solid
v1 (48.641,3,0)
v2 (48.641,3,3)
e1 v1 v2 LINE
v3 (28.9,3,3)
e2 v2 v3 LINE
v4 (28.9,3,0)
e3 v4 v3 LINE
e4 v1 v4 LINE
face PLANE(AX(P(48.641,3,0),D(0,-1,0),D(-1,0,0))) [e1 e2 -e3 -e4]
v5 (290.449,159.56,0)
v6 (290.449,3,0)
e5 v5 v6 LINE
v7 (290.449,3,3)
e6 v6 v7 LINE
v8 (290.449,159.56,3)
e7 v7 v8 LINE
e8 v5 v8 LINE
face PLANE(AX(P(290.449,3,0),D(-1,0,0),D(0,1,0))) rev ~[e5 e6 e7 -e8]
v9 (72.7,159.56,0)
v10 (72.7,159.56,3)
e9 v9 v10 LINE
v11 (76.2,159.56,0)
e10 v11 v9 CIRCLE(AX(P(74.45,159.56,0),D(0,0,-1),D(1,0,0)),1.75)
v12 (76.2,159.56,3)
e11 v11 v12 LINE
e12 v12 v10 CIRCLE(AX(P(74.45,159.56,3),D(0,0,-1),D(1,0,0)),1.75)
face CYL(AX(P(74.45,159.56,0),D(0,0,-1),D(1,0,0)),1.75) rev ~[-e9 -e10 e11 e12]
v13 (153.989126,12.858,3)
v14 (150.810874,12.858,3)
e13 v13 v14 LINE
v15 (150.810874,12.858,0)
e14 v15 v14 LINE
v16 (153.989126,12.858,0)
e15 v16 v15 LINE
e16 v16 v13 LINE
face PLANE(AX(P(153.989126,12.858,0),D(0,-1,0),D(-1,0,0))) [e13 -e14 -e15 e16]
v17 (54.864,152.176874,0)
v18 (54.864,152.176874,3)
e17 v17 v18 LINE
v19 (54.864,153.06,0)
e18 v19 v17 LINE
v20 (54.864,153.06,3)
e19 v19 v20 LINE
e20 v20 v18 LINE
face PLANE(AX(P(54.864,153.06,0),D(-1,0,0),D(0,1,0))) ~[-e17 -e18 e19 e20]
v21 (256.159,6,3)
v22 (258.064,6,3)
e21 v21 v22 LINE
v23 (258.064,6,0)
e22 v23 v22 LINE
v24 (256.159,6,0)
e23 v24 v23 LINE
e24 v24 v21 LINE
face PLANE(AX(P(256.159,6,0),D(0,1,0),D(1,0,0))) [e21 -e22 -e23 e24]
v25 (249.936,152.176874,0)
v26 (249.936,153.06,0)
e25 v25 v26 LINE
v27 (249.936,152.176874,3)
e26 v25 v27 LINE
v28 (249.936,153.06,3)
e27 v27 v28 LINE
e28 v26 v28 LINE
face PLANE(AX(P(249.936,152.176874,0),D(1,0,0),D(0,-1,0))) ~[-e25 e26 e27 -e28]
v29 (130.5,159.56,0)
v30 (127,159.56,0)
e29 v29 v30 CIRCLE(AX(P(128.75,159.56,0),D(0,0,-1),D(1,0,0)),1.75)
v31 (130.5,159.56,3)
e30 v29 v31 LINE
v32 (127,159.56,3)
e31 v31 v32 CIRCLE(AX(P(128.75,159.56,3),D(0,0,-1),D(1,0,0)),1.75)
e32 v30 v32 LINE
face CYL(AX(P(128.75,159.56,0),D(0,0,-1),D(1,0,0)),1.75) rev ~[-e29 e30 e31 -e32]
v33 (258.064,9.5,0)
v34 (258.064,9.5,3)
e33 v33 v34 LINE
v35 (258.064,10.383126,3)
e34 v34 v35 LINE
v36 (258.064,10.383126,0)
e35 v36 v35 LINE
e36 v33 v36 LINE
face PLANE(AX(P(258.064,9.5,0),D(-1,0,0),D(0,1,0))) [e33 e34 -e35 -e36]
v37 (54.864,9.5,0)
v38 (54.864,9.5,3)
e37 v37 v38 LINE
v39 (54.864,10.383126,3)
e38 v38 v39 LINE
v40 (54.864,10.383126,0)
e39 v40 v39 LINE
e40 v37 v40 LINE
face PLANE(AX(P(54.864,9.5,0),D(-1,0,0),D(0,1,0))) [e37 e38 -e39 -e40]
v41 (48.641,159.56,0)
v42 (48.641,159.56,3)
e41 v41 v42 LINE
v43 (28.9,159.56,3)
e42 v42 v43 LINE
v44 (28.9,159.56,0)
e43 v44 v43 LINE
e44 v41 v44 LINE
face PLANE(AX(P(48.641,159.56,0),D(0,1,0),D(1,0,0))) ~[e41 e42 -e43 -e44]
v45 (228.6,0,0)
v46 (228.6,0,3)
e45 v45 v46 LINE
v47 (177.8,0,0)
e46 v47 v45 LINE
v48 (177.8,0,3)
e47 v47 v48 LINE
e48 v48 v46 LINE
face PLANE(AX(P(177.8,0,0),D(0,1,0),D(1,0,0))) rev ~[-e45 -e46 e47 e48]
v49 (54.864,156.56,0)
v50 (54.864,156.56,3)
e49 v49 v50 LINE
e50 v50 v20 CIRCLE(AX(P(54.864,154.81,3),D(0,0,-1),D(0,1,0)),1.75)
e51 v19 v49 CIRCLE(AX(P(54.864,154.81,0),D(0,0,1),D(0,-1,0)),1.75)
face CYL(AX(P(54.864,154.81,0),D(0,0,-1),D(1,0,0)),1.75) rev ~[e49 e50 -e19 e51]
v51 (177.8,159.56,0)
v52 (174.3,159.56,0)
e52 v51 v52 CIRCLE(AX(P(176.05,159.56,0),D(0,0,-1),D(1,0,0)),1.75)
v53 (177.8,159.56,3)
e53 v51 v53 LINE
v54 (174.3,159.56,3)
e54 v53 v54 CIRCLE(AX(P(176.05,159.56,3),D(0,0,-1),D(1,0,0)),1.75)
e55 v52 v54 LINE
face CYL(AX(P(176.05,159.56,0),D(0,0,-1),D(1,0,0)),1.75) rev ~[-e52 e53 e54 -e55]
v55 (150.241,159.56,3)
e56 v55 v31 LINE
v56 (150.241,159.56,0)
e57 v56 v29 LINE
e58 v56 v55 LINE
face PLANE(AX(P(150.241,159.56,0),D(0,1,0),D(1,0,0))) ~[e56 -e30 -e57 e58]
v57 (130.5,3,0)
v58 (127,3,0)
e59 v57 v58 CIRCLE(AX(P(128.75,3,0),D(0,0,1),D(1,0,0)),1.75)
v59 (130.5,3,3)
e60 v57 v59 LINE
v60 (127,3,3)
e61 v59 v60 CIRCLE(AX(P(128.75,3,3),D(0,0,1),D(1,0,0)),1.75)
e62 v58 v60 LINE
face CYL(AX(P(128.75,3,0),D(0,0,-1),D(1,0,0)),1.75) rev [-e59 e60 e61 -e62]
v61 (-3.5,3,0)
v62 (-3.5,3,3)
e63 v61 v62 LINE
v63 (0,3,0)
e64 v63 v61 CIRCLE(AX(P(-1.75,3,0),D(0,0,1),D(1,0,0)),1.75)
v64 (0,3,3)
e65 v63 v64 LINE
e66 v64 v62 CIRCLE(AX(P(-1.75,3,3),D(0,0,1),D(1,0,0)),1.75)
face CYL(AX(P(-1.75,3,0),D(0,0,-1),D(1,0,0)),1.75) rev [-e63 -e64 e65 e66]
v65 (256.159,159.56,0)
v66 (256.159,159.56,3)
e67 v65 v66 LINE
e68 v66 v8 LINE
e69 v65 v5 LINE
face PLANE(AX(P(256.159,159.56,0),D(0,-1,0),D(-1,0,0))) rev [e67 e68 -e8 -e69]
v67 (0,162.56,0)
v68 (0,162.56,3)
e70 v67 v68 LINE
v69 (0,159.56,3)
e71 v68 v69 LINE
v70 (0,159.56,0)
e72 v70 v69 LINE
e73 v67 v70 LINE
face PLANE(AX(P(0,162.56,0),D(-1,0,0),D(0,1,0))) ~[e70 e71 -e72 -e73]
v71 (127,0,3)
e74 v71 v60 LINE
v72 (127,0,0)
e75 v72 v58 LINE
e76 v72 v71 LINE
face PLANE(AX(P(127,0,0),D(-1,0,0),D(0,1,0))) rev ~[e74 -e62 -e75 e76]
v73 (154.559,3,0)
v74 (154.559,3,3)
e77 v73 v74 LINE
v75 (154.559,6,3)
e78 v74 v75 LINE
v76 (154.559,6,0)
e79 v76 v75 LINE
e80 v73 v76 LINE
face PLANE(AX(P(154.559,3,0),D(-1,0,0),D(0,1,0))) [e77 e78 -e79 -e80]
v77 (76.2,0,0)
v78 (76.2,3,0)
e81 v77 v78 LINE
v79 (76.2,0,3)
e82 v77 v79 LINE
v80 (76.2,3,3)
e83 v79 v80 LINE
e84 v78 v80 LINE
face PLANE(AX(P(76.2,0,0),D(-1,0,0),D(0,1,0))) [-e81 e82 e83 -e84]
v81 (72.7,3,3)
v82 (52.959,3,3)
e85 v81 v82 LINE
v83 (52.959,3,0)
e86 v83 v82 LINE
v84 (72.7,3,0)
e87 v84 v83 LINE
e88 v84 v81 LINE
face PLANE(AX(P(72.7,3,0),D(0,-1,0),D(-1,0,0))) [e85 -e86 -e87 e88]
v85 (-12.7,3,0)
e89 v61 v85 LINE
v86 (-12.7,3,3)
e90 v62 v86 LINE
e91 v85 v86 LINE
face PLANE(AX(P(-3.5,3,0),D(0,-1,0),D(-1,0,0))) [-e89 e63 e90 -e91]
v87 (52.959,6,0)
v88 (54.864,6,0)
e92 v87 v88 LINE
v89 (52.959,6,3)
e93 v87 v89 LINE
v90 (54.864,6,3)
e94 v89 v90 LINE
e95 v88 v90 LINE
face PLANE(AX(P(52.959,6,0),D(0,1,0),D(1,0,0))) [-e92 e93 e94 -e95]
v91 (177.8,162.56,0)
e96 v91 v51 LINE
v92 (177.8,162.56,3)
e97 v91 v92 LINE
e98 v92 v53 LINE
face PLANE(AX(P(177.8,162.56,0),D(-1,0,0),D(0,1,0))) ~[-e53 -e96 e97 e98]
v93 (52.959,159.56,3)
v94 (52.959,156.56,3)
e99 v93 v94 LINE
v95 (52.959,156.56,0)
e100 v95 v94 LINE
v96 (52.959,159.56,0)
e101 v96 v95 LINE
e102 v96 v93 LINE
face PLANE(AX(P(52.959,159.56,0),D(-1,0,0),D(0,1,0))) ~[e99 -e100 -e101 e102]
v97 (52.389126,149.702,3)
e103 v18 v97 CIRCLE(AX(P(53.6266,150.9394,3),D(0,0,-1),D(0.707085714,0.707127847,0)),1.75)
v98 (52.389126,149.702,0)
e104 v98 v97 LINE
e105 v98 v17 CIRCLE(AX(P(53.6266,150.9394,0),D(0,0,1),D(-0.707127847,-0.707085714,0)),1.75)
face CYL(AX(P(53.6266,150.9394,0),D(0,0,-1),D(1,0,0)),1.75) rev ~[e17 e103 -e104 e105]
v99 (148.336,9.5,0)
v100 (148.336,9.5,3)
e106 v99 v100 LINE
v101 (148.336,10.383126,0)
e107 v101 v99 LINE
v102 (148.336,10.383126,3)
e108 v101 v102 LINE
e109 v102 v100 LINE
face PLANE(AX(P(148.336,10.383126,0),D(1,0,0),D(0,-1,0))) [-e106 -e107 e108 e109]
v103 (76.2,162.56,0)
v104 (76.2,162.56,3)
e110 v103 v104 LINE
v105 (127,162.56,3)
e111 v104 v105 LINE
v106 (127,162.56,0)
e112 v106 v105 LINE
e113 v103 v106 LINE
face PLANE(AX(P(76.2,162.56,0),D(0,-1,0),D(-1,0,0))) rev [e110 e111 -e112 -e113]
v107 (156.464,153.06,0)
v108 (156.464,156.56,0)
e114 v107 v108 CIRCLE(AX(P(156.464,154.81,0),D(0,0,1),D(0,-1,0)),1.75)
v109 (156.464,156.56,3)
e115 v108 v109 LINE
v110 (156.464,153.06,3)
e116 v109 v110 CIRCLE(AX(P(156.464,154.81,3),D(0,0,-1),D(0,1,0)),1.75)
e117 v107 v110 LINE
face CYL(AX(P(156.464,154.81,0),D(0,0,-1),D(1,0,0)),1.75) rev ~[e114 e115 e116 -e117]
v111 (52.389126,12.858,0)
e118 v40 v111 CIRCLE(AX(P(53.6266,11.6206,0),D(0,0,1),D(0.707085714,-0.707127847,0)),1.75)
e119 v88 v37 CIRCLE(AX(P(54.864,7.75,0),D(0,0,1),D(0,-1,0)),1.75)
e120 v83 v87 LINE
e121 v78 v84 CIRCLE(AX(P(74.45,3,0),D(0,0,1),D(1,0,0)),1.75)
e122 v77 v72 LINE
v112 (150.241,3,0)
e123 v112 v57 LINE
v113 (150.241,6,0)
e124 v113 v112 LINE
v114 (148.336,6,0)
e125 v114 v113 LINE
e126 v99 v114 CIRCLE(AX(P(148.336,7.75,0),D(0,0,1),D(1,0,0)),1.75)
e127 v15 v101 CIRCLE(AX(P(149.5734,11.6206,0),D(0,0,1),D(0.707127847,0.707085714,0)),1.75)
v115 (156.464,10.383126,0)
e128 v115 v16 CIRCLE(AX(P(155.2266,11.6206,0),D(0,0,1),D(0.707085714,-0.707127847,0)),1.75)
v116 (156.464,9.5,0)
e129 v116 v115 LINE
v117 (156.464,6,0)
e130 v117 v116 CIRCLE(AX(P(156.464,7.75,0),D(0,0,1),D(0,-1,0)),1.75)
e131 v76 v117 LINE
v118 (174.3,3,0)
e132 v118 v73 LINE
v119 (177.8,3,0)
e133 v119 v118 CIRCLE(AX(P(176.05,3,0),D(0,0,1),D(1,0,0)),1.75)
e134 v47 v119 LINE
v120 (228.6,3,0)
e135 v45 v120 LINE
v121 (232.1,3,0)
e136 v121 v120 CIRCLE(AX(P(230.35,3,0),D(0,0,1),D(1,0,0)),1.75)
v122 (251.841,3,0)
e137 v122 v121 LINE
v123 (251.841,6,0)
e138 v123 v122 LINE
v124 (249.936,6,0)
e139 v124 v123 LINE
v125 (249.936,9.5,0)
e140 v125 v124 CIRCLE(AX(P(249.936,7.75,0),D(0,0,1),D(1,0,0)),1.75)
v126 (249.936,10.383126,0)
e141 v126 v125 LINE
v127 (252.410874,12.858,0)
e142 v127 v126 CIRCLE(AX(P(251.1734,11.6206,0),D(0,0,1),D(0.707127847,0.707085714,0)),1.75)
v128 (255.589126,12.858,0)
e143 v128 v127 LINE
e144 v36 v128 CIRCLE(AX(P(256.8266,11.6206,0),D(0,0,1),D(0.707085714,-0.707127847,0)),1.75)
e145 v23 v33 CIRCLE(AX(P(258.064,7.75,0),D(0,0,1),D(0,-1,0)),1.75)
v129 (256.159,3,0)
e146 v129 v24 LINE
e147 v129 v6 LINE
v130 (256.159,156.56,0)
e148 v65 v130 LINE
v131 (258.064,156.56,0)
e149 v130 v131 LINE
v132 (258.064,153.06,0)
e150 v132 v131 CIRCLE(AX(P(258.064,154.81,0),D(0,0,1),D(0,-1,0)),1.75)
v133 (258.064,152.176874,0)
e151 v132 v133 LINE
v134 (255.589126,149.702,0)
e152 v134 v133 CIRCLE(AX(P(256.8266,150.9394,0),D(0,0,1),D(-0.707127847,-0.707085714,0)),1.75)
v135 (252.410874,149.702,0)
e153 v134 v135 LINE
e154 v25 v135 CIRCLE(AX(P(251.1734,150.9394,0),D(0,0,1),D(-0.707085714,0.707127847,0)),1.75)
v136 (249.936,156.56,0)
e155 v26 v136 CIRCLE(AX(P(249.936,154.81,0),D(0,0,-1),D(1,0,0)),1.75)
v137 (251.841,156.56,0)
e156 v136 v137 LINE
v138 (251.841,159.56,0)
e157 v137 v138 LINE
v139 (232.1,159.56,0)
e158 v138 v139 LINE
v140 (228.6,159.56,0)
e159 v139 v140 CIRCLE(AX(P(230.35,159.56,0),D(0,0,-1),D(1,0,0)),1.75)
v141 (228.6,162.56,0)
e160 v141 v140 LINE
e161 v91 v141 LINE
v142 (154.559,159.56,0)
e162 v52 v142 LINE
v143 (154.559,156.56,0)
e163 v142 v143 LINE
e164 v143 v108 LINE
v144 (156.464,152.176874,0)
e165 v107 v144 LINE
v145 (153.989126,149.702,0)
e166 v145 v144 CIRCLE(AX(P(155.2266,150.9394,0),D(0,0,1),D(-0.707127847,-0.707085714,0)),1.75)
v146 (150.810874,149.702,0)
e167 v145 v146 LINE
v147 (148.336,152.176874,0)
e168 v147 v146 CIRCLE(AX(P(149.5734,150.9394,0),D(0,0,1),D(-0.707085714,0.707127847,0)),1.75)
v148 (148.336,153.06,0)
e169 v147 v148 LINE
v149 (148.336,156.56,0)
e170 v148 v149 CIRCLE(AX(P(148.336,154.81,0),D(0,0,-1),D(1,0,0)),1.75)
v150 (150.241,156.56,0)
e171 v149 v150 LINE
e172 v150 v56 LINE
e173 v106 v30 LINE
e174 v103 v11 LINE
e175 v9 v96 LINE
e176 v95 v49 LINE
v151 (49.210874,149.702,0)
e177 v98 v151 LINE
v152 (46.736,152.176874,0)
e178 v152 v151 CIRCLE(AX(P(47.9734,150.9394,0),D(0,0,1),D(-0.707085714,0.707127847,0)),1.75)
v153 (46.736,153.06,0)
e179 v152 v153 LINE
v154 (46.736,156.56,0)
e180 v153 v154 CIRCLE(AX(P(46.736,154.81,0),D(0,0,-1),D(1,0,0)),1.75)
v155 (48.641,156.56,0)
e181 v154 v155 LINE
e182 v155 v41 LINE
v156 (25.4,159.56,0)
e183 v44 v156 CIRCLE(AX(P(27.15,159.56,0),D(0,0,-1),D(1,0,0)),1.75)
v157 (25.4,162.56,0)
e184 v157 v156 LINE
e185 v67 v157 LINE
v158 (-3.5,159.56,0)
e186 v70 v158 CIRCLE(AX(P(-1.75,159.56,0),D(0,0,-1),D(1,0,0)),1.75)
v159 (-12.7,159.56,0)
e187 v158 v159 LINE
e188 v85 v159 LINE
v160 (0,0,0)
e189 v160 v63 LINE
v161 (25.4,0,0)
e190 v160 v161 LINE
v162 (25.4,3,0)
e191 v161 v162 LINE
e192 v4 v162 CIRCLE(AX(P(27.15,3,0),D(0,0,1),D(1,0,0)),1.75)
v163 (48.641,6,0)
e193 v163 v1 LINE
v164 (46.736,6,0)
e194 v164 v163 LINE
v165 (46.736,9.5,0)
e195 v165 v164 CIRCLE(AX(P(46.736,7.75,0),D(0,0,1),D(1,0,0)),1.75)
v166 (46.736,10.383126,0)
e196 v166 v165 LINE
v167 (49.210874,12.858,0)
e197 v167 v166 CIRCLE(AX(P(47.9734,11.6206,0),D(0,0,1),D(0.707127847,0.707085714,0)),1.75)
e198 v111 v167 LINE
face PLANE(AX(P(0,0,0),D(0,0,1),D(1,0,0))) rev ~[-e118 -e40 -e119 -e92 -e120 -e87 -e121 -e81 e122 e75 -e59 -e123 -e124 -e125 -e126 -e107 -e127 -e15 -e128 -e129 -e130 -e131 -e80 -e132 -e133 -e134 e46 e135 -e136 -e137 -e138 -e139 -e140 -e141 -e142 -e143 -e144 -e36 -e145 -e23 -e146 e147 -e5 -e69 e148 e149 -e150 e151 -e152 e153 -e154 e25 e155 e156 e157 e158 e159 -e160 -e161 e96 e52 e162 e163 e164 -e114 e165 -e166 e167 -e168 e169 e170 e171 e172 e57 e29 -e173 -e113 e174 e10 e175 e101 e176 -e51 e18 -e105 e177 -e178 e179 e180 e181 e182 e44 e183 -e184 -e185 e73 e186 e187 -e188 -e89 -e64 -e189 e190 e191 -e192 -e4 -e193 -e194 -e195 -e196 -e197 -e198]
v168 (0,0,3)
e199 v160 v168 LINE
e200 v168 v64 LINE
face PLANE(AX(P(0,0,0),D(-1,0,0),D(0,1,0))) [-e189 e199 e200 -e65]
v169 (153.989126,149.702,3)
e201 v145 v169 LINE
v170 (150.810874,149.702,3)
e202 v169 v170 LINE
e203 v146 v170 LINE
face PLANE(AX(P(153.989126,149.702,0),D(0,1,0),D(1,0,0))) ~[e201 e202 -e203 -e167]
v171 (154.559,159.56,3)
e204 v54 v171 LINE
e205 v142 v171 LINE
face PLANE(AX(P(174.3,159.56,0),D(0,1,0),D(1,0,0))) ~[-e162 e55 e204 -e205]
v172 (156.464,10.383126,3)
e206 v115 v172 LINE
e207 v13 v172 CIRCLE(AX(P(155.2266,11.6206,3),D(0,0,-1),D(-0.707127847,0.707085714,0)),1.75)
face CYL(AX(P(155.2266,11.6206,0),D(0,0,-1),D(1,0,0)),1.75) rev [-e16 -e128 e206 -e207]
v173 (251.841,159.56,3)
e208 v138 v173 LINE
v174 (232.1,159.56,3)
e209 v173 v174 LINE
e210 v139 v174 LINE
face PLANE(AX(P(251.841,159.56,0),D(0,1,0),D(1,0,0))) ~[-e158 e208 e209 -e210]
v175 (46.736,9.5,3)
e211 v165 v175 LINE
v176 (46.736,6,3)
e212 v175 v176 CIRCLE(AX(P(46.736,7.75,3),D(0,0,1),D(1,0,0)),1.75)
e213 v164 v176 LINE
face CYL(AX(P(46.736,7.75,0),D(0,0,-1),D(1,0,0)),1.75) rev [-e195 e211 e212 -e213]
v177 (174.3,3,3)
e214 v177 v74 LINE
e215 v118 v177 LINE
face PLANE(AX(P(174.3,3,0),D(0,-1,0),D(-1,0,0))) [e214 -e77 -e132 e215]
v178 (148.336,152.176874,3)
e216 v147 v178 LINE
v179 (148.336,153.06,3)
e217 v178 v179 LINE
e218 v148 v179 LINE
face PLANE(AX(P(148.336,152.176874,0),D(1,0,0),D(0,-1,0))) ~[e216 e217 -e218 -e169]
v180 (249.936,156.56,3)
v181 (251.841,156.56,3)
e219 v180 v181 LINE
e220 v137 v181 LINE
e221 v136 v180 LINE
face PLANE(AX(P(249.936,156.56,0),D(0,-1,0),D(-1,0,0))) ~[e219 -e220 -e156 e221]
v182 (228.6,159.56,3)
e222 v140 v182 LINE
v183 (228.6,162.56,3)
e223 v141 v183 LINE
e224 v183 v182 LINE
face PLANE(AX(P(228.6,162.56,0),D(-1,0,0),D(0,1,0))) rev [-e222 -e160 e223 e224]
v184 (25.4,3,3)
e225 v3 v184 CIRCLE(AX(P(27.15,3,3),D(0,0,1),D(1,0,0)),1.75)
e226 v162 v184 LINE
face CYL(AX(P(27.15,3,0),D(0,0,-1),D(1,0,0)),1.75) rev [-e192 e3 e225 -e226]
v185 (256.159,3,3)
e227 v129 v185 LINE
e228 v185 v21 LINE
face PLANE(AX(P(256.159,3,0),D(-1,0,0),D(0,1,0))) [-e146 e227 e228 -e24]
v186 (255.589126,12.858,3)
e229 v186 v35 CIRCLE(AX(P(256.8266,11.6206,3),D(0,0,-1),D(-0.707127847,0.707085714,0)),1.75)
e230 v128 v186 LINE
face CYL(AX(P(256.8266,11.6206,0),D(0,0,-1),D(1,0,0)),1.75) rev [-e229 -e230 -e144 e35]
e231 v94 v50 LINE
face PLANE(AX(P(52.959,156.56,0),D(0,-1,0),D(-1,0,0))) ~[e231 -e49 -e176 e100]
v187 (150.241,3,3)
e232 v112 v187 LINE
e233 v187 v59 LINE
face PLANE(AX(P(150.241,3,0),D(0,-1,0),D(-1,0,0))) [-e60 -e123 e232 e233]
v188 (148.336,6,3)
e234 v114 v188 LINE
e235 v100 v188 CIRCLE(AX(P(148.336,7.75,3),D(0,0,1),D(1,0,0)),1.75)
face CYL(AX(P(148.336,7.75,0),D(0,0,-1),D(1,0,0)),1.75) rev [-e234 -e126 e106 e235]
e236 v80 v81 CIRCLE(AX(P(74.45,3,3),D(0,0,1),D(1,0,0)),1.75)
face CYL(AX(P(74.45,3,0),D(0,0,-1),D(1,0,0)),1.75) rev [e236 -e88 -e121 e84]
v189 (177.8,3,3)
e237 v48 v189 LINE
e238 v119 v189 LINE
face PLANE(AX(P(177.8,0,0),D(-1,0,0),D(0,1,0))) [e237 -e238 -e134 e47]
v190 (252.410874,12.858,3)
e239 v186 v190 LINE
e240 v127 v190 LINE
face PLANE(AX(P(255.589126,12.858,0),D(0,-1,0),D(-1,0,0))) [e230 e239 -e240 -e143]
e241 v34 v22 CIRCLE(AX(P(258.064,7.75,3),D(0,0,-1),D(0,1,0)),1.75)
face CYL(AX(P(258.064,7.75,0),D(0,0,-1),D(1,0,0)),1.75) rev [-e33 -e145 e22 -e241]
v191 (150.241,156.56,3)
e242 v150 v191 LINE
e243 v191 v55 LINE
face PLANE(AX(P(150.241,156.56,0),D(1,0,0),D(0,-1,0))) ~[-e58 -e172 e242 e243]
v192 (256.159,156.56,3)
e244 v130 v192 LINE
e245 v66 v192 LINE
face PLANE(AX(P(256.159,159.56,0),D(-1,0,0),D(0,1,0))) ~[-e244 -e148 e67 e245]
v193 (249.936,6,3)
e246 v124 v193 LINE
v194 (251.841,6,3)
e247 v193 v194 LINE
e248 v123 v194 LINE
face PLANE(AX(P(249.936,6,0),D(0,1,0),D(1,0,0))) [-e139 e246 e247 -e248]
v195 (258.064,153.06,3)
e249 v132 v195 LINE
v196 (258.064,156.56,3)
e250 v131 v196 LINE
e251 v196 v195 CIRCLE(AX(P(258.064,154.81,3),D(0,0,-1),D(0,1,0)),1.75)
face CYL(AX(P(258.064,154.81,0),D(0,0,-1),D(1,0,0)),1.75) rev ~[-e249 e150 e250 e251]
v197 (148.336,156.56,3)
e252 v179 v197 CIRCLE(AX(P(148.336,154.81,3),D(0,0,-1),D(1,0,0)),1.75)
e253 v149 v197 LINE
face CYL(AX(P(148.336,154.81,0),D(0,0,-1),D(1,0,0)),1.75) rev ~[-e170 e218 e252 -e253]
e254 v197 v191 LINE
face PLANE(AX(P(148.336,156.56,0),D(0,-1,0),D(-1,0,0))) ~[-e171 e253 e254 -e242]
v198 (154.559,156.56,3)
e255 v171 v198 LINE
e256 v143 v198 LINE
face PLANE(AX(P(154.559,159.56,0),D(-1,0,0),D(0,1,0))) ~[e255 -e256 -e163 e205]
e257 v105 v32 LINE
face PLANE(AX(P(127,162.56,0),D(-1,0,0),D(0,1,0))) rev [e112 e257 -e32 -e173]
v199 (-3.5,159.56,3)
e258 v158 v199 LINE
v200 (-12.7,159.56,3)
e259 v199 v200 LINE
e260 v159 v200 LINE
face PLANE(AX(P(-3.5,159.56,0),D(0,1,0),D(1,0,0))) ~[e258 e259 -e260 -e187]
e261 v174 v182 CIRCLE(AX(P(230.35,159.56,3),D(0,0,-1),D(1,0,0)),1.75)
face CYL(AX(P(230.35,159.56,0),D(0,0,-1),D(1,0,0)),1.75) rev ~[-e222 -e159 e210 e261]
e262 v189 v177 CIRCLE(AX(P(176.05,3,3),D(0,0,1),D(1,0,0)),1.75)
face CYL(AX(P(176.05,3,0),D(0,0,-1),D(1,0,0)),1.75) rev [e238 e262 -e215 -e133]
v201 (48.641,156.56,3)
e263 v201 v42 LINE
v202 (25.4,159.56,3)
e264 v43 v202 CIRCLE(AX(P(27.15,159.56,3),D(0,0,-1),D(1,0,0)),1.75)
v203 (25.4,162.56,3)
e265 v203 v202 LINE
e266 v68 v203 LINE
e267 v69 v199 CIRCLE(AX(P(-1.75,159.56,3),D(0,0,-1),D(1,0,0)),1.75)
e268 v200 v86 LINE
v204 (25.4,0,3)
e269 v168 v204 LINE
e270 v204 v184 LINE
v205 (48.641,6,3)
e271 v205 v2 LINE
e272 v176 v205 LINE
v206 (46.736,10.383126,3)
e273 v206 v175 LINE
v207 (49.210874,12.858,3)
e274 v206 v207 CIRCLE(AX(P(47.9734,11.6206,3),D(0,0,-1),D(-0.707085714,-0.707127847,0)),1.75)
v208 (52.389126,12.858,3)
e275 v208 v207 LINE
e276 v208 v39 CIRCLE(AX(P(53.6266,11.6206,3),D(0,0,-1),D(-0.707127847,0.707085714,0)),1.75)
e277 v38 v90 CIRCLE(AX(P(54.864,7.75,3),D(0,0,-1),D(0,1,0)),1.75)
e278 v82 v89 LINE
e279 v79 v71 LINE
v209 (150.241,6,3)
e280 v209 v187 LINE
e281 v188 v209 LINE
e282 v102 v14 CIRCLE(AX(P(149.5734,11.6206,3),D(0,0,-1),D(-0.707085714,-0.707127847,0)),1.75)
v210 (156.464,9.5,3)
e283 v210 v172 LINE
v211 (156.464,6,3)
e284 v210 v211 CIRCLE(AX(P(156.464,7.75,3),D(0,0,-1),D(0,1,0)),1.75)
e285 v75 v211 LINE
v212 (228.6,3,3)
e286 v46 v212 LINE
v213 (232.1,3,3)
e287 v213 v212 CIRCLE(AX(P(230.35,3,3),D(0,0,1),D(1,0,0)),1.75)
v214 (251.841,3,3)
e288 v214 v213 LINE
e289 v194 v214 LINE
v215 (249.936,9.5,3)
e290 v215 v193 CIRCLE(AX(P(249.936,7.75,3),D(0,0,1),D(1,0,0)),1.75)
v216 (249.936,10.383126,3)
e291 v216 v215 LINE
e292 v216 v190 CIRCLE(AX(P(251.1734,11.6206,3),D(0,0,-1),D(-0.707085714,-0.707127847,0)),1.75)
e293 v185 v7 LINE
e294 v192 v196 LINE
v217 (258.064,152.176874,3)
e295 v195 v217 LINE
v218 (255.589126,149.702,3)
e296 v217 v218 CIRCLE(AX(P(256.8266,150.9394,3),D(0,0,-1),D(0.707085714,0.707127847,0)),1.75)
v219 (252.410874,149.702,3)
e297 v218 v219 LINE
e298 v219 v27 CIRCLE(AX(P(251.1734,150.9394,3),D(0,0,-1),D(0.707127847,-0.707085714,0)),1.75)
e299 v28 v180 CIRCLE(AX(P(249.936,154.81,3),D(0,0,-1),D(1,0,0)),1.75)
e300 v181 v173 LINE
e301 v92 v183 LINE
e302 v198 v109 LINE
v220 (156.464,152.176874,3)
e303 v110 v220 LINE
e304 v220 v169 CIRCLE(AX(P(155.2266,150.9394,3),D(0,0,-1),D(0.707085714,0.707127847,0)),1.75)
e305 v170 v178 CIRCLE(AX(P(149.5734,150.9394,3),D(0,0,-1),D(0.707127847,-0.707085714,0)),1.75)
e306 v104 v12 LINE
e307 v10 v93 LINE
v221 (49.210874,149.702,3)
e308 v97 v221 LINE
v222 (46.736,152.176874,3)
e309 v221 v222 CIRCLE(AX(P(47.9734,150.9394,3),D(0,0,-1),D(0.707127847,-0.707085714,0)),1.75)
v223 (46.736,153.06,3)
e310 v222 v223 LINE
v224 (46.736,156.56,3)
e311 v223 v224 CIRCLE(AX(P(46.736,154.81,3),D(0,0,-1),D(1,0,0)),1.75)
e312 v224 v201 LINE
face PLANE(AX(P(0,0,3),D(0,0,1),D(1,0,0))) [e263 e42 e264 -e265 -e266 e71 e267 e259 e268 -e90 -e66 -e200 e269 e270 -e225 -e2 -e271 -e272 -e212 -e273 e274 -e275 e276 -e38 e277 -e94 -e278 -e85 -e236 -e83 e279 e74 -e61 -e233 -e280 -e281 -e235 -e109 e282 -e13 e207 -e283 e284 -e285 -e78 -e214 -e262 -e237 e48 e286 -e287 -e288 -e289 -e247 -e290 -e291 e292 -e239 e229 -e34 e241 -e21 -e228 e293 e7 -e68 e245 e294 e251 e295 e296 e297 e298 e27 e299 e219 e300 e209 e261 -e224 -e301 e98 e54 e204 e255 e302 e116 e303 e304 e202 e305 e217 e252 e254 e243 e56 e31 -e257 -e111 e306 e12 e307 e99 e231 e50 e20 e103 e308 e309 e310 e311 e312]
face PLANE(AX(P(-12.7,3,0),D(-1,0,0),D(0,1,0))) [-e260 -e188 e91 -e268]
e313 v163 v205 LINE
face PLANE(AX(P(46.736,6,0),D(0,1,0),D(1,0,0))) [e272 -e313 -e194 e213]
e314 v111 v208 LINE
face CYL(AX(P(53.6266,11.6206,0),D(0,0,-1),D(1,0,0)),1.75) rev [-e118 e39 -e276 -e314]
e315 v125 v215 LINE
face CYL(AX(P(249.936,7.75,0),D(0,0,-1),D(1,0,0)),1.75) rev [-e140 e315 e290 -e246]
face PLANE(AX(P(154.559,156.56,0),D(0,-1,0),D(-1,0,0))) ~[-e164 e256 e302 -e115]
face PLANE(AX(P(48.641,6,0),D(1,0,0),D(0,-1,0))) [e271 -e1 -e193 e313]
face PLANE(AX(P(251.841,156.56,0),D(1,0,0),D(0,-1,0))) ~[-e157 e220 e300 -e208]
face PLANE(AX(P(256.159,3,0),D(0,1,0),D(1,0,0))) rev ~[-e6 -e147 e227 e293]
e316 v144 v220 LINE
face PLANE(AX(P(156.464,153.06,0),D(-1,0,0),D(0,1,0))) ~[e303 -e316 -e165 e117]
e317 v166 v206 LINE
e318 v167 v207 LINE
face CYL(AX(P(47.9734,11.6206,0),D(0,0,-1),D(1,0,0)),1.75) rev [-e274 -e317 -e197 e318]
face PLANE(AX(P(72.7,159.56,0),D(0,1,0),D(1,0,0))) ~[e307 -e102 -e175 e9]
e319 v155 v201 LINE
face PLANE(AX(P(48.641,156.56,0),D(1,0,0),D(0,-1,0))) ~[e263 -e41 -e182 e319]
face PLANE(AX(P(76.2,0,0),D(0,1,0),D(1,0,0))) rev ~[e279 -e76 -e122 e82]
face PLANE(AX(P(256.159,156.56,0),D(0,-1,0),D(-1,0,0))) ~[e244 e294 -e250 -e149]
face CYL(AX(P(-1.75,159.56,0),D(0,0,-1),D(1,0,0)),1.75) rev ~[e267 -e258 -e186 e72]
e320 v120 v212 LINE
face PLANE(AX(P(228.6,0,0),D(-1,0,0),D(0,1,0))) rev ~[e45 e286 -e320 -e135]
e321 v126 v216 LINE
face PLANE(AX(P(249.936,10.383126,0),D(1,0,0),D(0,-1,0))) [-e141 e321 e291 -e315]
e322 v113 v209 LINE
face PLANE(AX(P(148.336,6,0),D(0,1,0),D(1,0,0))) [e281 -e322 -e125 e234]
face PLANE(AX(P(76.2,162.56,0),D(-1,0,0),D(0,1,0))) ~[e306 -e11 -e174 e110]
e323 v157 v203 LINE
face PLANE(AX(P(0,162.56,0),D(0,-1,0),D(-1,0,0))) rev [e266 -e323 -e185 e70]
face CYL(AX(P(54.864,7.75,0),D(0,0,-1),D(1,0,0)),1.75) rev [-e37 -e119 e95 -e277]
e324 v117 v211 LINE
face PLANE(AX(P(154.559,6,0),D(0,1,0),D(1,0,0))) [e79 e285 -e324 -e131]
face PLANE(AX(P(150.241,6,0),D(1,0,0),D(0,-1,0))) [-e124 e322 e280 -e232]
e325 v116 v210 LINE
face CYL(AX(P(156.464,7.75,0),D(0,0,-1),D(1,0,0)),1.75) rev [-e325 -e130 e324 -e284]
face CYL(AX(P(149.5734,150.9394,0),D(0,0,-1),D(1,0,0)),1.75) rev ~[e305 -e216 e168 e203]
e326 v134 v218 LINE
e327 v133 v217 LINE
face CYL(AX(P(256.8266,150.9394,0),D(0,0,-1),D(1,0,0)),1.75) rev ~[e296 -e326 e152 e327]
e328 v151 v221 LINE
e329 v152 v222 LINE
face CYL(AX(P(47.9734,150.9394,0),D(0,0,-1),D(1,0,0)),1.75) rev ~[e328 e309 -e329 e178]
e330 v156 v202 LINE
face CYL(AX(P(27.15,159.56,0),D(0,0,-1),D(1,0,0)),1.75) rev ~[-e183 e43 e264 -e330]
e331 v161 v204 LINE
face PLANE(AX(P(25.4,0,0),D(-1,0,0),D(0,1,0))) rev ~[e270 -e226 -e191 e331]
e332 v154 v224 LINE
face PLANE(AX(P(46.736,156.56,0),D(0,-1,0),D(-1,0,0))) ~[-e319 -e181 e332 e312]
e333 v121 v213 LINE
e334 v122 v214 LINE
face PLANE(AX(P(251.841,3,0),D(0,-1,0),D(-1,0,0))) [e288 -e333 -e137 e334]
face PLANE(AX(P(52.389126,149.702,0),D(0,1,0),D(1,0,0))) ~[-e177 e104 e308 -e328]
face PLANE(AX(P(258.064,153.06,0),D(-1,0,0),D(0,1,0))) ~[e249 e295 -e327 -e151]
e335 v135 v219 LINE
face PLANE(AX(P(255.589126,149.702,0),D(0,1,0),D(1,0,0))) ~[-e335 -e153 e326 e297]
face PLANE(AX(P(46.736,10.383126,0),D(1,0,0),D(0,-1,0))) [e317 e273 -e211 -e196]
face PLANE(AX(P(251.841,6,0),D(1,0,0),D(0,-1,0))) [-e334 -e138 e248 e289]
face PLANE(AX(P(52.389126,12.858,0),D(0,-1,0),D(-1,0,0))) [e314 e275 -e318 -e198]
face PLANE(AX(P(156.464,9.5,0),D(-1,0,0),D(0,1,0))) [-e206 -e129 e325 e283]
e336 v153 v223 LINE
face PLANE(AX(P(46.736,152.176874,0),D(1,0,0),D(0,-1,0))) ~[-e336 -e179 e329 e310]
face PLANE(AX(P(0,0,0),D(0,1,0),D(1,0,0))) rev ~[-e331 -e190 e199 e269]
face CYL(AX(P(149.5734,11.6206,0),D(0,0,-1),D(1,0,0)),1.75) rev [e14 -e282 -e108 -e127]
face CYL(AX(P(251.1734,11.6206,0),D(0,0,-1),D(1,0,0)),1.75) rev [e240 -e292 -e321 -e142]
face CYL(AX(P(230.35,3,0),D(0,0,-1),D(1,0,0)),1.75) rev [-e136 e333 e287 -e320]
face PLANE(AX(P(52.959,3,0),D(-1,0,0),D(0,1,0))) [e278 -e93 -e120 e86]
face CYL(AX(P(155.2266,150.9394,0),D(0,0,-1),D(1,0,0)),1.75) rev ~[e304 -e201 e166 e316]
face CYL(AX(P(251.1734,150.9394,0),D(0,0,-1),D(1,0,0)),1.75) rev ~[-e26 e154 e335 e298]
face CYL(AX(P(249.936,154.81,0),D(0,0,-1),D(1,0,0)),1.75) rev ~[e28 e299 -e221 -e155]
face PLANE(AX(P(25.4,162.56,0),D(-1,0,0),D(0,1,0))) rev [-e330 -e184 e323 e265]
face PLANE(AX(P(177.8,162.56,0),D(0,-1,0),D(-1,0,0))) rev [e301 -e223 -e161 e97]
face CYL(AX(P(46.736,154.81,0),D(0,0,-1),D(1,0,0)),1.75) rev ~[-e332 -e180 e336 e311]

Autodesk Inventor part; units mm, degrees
ref_plane "YZ Plane" through (0, 0, 0) normal (1, 0, 0) x (0, 1, 0)
ref_plane "XZ Plane" through (0, 0, 0) normal (0, 1, 0) x (-1, 0, 0)
ref_plane "XY Plane" through (0, 0, 0) normal (0, 0, 1) x (1, 0, 0)
ref_plane "Work Plane1" through (0, 0, 0) normal (0, 0, 1) x (1, 0, 0)
sketch "Sketch1" plane through (0, 0, 0) normal (0, 0, 1) x (1, 0, 0)
  line L0 (0, 0) -> (25.4, 0) projected
  line L1 (25.4, 0) -> (25.4, 3) projected
  line L2 (0, 3) -> (25.4, 3) construction
  line L3 (0, 0) -> (0, 3) projected
  line L4 (48.641, 3) -> (52.959, 3) construction
  line L5 (76.2, 0) -> (127, 0) projected
  line L6 (127, 0) -> (127, 3) projected
  line L7 (76.2, 3) -> (127, 3) construction
  line L8 (76.2, 0) -> (76.2, 3) projected
  line L9 (150.241, 3) -> (154.559, 3) construction
  line L10 (177.8, 0) -> (228.6, 0) projected
  line L11 (228.6, 0) -> (228.6, 3) projected
  line L12 (177.8, 3) -> (228.6, 3) construction
  line L13 (177.8, 0) -> (177.8, 3) projected
  line L14 (251.841, 3) -> (256.159, 3) construction
  line L15 (256.159, 3) -> (256.159, 6)
  line L16 (256.159, 6) -> (258.064, 6)
  line L17 (258.064, 6) -> (258.064, 12.858)
  line L18 (258.064, 12.858) -> (249.936, 12.858)
  line L19 (249.936, 12.858) -> (249.936, 6)
  line L20 (249.936, 6) -> (251.841, 6)
  line L21 (251.841, 6) -> (251.841, 3)
  line L22 (256.159, 3) -> (290.449, 3)
  line L23 (290.449, 3) -> (290.449, 81.28)
  line L24 (-255.6541, 81.28) -> (660.8228, 81.28)
  line L25 (251.841, 3) -> (228.6, 3)
  line L26 (177.8, 3) -> (154.559, 3)
  line L27 (154.559, 3) -> (154.559, 6)
  line L28 (154.559, 6) -> (156.464, 6)
  line L29 (156.464, 6) -> (156.464, 12.858)
  line L30 (156.464, 12.858) -> (148.336, 12.858)
  line L31 (148.336, 12.858) -> (148.336, 6)
  line L32 (148.336, 6) -> (150.241, 6)
  line L33 (150.241, 6) -> (150.241, 3)
  line L34 (150.241, 3) -> (127, 3)
  line L35 (76.2, 3) -> (52.959, 3)
  line L36 (52.959, 3) -> (52.959, 6)
  line L37 (52.959, 6) -> (54.864, 6)
  line L38 (54.864, 6) -> (54.864, 12.858)
  line L39 (54.864, 12.858) -> (46.736, 12.858)
  line L40 (46.736, 12.858) -> (46.736, 6)
  line L41 (46.736, 6) -> (48.641, 6)
  line L42 (48.641, 6) -> (48.641, 3)
  line L43 (48.641, 3) -> (25.4, 3)
  line L44 (0, 3) -> (-12.7, 3)
  line L45 (-12.7, 3) -> (-12.7, 81.28)
  circle A0 centre (258.064, 7.75) radius 1.75
  circle A1 centre (256.8266, 11.6206) radius 1.75
  line L46 (256.8266, 11.6206) -> (258.064, 12.858) construction
  line L47 (254, 3) -> (254, 12.858) construction
  circle A2 centre (249.936, 7.75) radius 1.75
  circle A3 centre (251.1734, 11.6206) radius 1.75
  line L48 (156.464, 12.858) -> (155.2266, 11.6206) construction
  circle A4 centre (155.2266, 11.6206) radius 1.75
  circle A5 centre (156.464, 7.75) radius 1.75
  line L49 (152.4, 3) -> (152.4, 12.858) construction
  circle A6 centre (149.5734, 11.6206) radius 1.75
  circle A7 centre (148.336, 7.75) radius 1.75
  line L50 (54.864, 12.858) -> (53.6266, 11.6206) construction
  circle A8 centre (53.6266, 11.6206) radius 1.75
  circle A9 centre (54.864, 7.75) radius 1.75
  line L51 (50.8, 3) -> (50.8, 12.858) construction
  circle A10 centre (47.9734, 11.6206) radius 1.75
  circle A11 centre (46.736, 7.75) radius 1.75
  circle A12 centre (128.75, 3) radius 1.75
  circle A13 centre (74.45, 3) radius 1.75
  circle A14 centre (27.15, 3) radius 1.75
  circle A15 centre (-1.75, 3) radius 1.75
  circle A16 centre (176.05, 3) radius 1.75
  circle A17 centre (230.35, 3) radius 1.75
  point P0 (46.736, 9.5)
  point P1 (46.736, 10.3831)
  point P2 (49.2109, 12.858)
  point P3 (52.3891, 12.858)
  point P4 (54.864, 10.3831)
  point P5 (54.864, 9.5)
  point P6 (148.336, 9.5)
  point P7 (148.336, 10.3831)
  point P8 (150.8109, 12.858)
  point P9 (153.9891, 12.858)
  point P10 (156.464, 10.3831)
  point P11 (156.464, 9.5)
  point P12 (249.936, 6)
  point P13 (249.936, 9.5)
  point P14 (249.936, 10.3831)
  point P15 (252.4109, 12.858)
  point P16 (255.5891, 12.858)
  point P17 (258.064, 10.3831)
  point P18 (258.064, 9.5)
  point P19 (28.9, 3)
  point P20 (72.7, 3)
  point P21 (130.5, 3)
  point P22 (174.3, 3)
  point P23 (232.1, 3)
  point P24 (-3.5, 3)
  dimension "d11" = 3.5
  dimension "d14" = 3.5
  dimension "d16" = 3.5
  dimension "d17" = 3.5
  dimension "d0" = 3
  dimension "d1" = 8.128
  dimension "d2" = 6.858
  dimension "d3" = 34.29
  dimension "d6" = 3
  dimension "d7" = 3
  dimension "d8" = 12.7
  dimension "d12" = 45
  dimension "d13" = 45
  dimension "d15" = 45
extrude "Extrusion1" add sketch "Sketch1" along normal blind 3 contours L3 A15 L44 L45 L24 L23 L22 L15 L16 A0 L17 A1 L18 A3 L19 A2 L20 L21 L25 A17 L11 L10 L13 A16 L26 L27 L28 A5 L29 A4 L30 A6 L31 A7 L32 L33 L34 A12 L6 L5 L8 A13 L35 L36 L37 A9 L38 A8 L39 A10 L40 A11 L41 L42 L43 A14 L1 L0
mirror "Mirror1" about plane through (290.449, 81.28, 0) normal (0, 1, 0) of "Extrusion1"
sketch "Sketch2" plane through (0, 0, 3) normal (0, 0, 1) x (1, 0, 0)
  line L0 (0, 0) -> (25.4, 0) projected
  line L1 (25.4, 0) -> (25.4, 3) projected
  arc A0 (28.9, 3) -> (25.4, 3) centre (27.15, 3) ccw projected
  line L2 (28.9, 3) -> (48.641, 3) projected
  line L3 (48.641, 3) -> (48.641, 6) projected
  line L4 (48.641, 6) -> (46.736, 6) projected
  arc A1 (46.736, 9.5) -> (46.736, 6) centre (46.736, 7.75) ccw projected
  line L5 (46.736, 9.5) -> (46.736, 10.3831) projected
  arc A2 (49.2109, 12.858) -> (46.736, 10.3831) centre (47.9734, 11.6206) ccw projected
  line L6 (49.2109, 12.858) -> (52.3891, 12.858) projected
  arc A3 (54.864, 10.3831) -> (52.3891, 12.858) centre (53.6266, 11.6206) ccw projected
  line L7 (54.864, 10.3831) -> (54.864, 9.5) projected
  arc A4 (54.864, 6) -> (54.864, 9.5) centre (54.864, 7.75) ccw projected
  line L8 (54.864, 6) -> (52.959, 6) projected
  line L9 (52.959, 6) -> (52.959, 3) projected
  line L10 (52.959, 3) -> (72.7, 3) projected
  arc A5 (76.2, 3) -> (72.7, 3) centre (74.45, 3) ccw projected
  line L11 (76.2, 3) -> (76.2, 0) projected
  line L12 (76.2, 0) -> (127, 0) projected
  line L13 (127, 0) -> (127, 3) projected
  arc A6 (130.5, 3) -> (127, 3) centre (128.75, 3) ccw projected
  line L14 (130.5, 3) -> (150.241, 3) projected
  line L15 (150.241, 3) -> (150.241, 6) projected
  line L16 (150.241, 6) -> (148.336, 6) projected
  arc A7 (148.336, 9.5) -> (148.336, 6) centre (148.336, 7.75) ccw projected
  line L17 (148.336, 9.5) -> (148.336, 10.3831) projected
  arc A8 (150.8109, 12.858) -> (148.336, 10.3831) centre (149.5734, 11.6206) ccw projected
  line L18 (150.8109, 12.858) -> (153.9891, 12.858) projected
  arc A9 (156.464, 10.3831) -> (153.9891, 12.858) centre (155.2266, 11.6206) ccw projected
  line L19 (156.464, 10.3831) -> (156.464, 9.5) projected
  arc A10 (156.464, 6) -> (156.464, 9.5) centre (156.464, 7.75) ccw projected
  line L20 (156.464, 6) -> (154.559, 6) projected
  line L21 (154.559, 6) -> (154.559, 3) projected
  line L22 (154.559, 3) -> (174.3, 3) projected
  arc A11 (177.8, 3) -> (174.3, 3) centre (176.05, 3) ccw projected
  line L23 (177.8, 3) -> (177.8, 0) projected
  line L24 (177.8, 0) -> (228.6, 0) projected
  line L25 (228.6, 0) -> (228.6, 3) projected
  arc A12 (232.1, 3) -> (228.6, 3) centre (230.35, 3) ccw projected
  line L26 (232.1, 3) -> (251.841, 3) projected
  line L27 (251.841, 3) -> (251.841, 6) projected
  line L28 (251.841, 6) -> (249.936, 6) projected
  arc A13 (249.936, 9.5) -> (249.936, 6) centre (249.936, 7.75) ccw projected
  line L29 (249.936, 9.5) -> (249.936, 10.3831) projected
  arc A14 (252.4109, 12.858) -> (249.936, 10.3831) centre (251.1734, 11.6206) ccw projected
  line L30 (252.4109, 12.858) -> (255.5891, 12.858) projected
  arc A15 (258.064, 10.3831) -> (255.5891, 12.858) centre (256.8266, 11.6206) ccw projected
  line L31 (258.064, 10.3831) -> (258.064, 9.5) projected
  arc A16 (258.064, 6) -> (258.064, 9.5) centre (258.064, 7.75) ccw projected
  line L32 (258.064, 6) -> (256.159, 6) projected
  line L33 (256.159, 6) -> (256.159, 3) projected
  line L34 (256.159, 3) -> (290.449, 3) projected
  line L35 (290.449, 3) -> (290.449, 159.56) projected
  line L36 (256.159, 159.56) -> (290.449, 159.56) projected
  line L37 (256.159, 156.56) -> (256.159, 159.56) projected
  line L38 (258.064, 156.56) -> (256.159, 156.56) projected
  arc A17 (258.064, 153.06) -> (258.064, 156.56) centre (258.064, 154.81) ccw projected
  line L39 (258.064, 152.1769) -> (258.064, 153.06) projected
  arc A18 (255.5891, 149.702) -> (258.064, 152.1769) centre (256.8266, 150.9394) ccw projected
  line L40 (252.4109, 149.702) -> (255.5891, 149.702) projected
  arc A19 (249.936, 152.1769) -> (252.4109, 149.702) centre (251.1734, 150.9394) ccw projected
  line L41 (249.936, 153.06) -> (249.936, 152.1769) projected
  arc A20 (249.936, 156.56) -> (249.936, 153.06) centre (249.936, 154.81) ccw projected
  line L42 (251.841, 156.56) -> (249.936, 156.56) projected
  line L43 (251.841, 159.56) -> (251.841, 156.56) projected
  line L44 (232.1, 159.56) -> (251.841, 159.56) projected
  arc A21 (228.6, 159.56) -> (232.1, 159.56) centre (230.35, 159.56) ccw projected
  line L45 (228.6, 162.56) -> (228.6, 159.56) projected
  line L46 (177.8, 162.56) -> (228.6, 162.56) projected
  line L47 (177.8, 159.56) -> (177.8, 162.56) projected
  arc A22 (174.3, 159.56) -> (177.8, 159.56) centre (176.05, 159.56) ccw projected
  line L48 (154.559, 159.56) -> (174.3, 159.56) projected
  line L49 (154.559, 156.56) -> (154.559, 159.56) projected
  line L50 (156.464, 156.56) -> (154.559, 156.56) projected
  arc A23 (156.464, 153.06) -> (156.464, 156.56) centre (156.464, 154.81) ccw projected
  line L51 (156.464, 152.1769) -> (156.464, 153.06) projected
  arc A24 (153.9891, 149.702) -> (156.464, 152.1769) centre (155.2266, 150.9394) ccw projected
  line L52 (150.8109, 149.702) -> (153.9891, 149.702) projected
  arc A25 (148.336, 152.1769) -> (150.8109, 149.702) centre (149.5734, 150.9394) ccw projected
  line L53 (148.336, 153.06) -> (148.336, 152.1769) projected
  arc A26 (148.336, 156.56) -> (148.336, 153.06) centre (148.336, 154.81) ccw projected
  line L54 (150.241, 156.56) -> (148.336, 156.56) projected
  line L55 (150.241, 159.56) -> (150.241, 156.56) projected
  line L56 (130.5, 159.56) -> (150.241, 159.56) projected
  arc A27 (127, 159.56) -> (130.5, 159.56) centre (128.75, 159.56) ccw projected
  line L57 (127, 162.56) -> (127, 159.56) projected
  line L58 (76.2, 162.56) -> (127, 162.56) projected
  line L59 (76.2, 159.56) -> (76.2, 162.56) projected
  arc A28 (72.7, 159.56) -> (76.2, 159.56) centre (74.45, 159.56) ccw projected
  line L60 (52.959, 159.56) -> (72.7, 159.56) projected
  line L61 (52.959, 156.56) -> (52.959, 159.56) projected
  line L62 (54.864, 156.56) -> (52.959, 156.56) projected
  arc A29 (54.864, 153.06) -> (54.864, 156.56) centre (54.864, 154.81) ccw projected
  line L63 (54.864, 152.1769) -> (54.864, 153.06) projected
  arc A30 (52.3891, 149.702) -> (54.864, 152.1769) centre (53.6266, 150.9394) ccw projected
  line L64 (49.2109, 149.702) -> (52.3891, 149.702) projected
  arc A31 (46.736, 152.1769) -> (49.2109, 149.702) centre (47.9734, 150.9394) ccw projected
  line L65 (46.736, 153.06) -> (46.736, 152.1769) projected
  arc A32 (46.736, 156.56) -> (46.736, 153.06) centre (46.736, 154.81) ccw projected
  line L66 (48.641, 156.56) -> (46.736, 156.56) projected
  line L67 (48.641, 159.56) -> (48.641, 156.56) projected
  line L68 (28.9, 159.56) -> (48.641, 159.56) projected
  arc A33 (25.4, 159.56) -> (28.9, 159.56) centre (27.15, 159.56) ccw projected
  line L69 (25.4, 162.56) -> (25.4, 159.56) projected
  line L70 (0, 162.56) -> (25.4, 162.56) projected
  line L71 (0, 159.56) -> (0, 162.56) projected
  arc A34 (-3.5, 159.56) -> (0, 159.56) centre (-1.75, 159.56) ccw projected
  line L72 (-12.7, 159.56) -> (-3.5, 159.56) projected
  line L73 (-12.7, 3) -> (-12.7, 159.56) projected
  line L74 (-12.7, 3) -> (-3.5, 3) projected
  arc A35 (0, 3) -> (-3.5, 3) centre (-1.75, 3) ccw projected
  line L75 (0, 3) -> (0, 0) projected
  line L76 (6.35, 28.4) -> (271.399, 28.4)
  line L77 (271.399, 28.4) -> (271.399, 134.16)
  line L78 (271.399, 134.16) -> (6.35, 134.16)
  line L79 (6.35, 134.16) -> (6.35, 28.4)
  circle A36 centre (69.8657, 73) radius 70 construction
  line L80 (28.9, 3) -> (48.641, 3) projected
  circle A37 centre (11, 187.15) radius 50.8 construction
  line L81 (11, 136.35) -> (103.401, 136.35) construction
  circle A38 centre (11, 187.15) radius 11
  circle A39 centre (69.8657, -19.86) radius 25.4 construction
  line L82 (76.2, 162.56) -> (127, 162.56) projected
  circle A40 centre (11, 187.15) radius 57.15
  circle A41 centre (228.6, 73) radius 70 construction
  line L83 (232.1, 3) -> (251.841, 3) projected
  circle A42 centre (11, 187.15) radius 23.7 construction
  line L84 (-12.7, 3) -> (-12.7, 159.56) projected
  line L85 (-12.7, 159.56) -> (-12.7, 187.15) construction
  line L86 (69.8657, 5.54) -> (21.0219, 5.54) construction
  point P0 (38.7705, 159.56)
  dimension "d23" = 101.6
  dimension "d29" = 50.8
  dimension "d18" = 19.05
  dimension "d19" = 25.4
  dimension "d20" = 25.4
  dimension "d21" = 19.05
  dimension "d22" = 140
  dimension "d27" = 133.35
  dimension "d28" = 22
  dimension "d32" = 6.35
  dimension "d34" = 140
  dimension "d35" = 12.7
  dimension "d37" = 2.54
properties part number "ConveyorSlide" material "Aluminum 6061"
